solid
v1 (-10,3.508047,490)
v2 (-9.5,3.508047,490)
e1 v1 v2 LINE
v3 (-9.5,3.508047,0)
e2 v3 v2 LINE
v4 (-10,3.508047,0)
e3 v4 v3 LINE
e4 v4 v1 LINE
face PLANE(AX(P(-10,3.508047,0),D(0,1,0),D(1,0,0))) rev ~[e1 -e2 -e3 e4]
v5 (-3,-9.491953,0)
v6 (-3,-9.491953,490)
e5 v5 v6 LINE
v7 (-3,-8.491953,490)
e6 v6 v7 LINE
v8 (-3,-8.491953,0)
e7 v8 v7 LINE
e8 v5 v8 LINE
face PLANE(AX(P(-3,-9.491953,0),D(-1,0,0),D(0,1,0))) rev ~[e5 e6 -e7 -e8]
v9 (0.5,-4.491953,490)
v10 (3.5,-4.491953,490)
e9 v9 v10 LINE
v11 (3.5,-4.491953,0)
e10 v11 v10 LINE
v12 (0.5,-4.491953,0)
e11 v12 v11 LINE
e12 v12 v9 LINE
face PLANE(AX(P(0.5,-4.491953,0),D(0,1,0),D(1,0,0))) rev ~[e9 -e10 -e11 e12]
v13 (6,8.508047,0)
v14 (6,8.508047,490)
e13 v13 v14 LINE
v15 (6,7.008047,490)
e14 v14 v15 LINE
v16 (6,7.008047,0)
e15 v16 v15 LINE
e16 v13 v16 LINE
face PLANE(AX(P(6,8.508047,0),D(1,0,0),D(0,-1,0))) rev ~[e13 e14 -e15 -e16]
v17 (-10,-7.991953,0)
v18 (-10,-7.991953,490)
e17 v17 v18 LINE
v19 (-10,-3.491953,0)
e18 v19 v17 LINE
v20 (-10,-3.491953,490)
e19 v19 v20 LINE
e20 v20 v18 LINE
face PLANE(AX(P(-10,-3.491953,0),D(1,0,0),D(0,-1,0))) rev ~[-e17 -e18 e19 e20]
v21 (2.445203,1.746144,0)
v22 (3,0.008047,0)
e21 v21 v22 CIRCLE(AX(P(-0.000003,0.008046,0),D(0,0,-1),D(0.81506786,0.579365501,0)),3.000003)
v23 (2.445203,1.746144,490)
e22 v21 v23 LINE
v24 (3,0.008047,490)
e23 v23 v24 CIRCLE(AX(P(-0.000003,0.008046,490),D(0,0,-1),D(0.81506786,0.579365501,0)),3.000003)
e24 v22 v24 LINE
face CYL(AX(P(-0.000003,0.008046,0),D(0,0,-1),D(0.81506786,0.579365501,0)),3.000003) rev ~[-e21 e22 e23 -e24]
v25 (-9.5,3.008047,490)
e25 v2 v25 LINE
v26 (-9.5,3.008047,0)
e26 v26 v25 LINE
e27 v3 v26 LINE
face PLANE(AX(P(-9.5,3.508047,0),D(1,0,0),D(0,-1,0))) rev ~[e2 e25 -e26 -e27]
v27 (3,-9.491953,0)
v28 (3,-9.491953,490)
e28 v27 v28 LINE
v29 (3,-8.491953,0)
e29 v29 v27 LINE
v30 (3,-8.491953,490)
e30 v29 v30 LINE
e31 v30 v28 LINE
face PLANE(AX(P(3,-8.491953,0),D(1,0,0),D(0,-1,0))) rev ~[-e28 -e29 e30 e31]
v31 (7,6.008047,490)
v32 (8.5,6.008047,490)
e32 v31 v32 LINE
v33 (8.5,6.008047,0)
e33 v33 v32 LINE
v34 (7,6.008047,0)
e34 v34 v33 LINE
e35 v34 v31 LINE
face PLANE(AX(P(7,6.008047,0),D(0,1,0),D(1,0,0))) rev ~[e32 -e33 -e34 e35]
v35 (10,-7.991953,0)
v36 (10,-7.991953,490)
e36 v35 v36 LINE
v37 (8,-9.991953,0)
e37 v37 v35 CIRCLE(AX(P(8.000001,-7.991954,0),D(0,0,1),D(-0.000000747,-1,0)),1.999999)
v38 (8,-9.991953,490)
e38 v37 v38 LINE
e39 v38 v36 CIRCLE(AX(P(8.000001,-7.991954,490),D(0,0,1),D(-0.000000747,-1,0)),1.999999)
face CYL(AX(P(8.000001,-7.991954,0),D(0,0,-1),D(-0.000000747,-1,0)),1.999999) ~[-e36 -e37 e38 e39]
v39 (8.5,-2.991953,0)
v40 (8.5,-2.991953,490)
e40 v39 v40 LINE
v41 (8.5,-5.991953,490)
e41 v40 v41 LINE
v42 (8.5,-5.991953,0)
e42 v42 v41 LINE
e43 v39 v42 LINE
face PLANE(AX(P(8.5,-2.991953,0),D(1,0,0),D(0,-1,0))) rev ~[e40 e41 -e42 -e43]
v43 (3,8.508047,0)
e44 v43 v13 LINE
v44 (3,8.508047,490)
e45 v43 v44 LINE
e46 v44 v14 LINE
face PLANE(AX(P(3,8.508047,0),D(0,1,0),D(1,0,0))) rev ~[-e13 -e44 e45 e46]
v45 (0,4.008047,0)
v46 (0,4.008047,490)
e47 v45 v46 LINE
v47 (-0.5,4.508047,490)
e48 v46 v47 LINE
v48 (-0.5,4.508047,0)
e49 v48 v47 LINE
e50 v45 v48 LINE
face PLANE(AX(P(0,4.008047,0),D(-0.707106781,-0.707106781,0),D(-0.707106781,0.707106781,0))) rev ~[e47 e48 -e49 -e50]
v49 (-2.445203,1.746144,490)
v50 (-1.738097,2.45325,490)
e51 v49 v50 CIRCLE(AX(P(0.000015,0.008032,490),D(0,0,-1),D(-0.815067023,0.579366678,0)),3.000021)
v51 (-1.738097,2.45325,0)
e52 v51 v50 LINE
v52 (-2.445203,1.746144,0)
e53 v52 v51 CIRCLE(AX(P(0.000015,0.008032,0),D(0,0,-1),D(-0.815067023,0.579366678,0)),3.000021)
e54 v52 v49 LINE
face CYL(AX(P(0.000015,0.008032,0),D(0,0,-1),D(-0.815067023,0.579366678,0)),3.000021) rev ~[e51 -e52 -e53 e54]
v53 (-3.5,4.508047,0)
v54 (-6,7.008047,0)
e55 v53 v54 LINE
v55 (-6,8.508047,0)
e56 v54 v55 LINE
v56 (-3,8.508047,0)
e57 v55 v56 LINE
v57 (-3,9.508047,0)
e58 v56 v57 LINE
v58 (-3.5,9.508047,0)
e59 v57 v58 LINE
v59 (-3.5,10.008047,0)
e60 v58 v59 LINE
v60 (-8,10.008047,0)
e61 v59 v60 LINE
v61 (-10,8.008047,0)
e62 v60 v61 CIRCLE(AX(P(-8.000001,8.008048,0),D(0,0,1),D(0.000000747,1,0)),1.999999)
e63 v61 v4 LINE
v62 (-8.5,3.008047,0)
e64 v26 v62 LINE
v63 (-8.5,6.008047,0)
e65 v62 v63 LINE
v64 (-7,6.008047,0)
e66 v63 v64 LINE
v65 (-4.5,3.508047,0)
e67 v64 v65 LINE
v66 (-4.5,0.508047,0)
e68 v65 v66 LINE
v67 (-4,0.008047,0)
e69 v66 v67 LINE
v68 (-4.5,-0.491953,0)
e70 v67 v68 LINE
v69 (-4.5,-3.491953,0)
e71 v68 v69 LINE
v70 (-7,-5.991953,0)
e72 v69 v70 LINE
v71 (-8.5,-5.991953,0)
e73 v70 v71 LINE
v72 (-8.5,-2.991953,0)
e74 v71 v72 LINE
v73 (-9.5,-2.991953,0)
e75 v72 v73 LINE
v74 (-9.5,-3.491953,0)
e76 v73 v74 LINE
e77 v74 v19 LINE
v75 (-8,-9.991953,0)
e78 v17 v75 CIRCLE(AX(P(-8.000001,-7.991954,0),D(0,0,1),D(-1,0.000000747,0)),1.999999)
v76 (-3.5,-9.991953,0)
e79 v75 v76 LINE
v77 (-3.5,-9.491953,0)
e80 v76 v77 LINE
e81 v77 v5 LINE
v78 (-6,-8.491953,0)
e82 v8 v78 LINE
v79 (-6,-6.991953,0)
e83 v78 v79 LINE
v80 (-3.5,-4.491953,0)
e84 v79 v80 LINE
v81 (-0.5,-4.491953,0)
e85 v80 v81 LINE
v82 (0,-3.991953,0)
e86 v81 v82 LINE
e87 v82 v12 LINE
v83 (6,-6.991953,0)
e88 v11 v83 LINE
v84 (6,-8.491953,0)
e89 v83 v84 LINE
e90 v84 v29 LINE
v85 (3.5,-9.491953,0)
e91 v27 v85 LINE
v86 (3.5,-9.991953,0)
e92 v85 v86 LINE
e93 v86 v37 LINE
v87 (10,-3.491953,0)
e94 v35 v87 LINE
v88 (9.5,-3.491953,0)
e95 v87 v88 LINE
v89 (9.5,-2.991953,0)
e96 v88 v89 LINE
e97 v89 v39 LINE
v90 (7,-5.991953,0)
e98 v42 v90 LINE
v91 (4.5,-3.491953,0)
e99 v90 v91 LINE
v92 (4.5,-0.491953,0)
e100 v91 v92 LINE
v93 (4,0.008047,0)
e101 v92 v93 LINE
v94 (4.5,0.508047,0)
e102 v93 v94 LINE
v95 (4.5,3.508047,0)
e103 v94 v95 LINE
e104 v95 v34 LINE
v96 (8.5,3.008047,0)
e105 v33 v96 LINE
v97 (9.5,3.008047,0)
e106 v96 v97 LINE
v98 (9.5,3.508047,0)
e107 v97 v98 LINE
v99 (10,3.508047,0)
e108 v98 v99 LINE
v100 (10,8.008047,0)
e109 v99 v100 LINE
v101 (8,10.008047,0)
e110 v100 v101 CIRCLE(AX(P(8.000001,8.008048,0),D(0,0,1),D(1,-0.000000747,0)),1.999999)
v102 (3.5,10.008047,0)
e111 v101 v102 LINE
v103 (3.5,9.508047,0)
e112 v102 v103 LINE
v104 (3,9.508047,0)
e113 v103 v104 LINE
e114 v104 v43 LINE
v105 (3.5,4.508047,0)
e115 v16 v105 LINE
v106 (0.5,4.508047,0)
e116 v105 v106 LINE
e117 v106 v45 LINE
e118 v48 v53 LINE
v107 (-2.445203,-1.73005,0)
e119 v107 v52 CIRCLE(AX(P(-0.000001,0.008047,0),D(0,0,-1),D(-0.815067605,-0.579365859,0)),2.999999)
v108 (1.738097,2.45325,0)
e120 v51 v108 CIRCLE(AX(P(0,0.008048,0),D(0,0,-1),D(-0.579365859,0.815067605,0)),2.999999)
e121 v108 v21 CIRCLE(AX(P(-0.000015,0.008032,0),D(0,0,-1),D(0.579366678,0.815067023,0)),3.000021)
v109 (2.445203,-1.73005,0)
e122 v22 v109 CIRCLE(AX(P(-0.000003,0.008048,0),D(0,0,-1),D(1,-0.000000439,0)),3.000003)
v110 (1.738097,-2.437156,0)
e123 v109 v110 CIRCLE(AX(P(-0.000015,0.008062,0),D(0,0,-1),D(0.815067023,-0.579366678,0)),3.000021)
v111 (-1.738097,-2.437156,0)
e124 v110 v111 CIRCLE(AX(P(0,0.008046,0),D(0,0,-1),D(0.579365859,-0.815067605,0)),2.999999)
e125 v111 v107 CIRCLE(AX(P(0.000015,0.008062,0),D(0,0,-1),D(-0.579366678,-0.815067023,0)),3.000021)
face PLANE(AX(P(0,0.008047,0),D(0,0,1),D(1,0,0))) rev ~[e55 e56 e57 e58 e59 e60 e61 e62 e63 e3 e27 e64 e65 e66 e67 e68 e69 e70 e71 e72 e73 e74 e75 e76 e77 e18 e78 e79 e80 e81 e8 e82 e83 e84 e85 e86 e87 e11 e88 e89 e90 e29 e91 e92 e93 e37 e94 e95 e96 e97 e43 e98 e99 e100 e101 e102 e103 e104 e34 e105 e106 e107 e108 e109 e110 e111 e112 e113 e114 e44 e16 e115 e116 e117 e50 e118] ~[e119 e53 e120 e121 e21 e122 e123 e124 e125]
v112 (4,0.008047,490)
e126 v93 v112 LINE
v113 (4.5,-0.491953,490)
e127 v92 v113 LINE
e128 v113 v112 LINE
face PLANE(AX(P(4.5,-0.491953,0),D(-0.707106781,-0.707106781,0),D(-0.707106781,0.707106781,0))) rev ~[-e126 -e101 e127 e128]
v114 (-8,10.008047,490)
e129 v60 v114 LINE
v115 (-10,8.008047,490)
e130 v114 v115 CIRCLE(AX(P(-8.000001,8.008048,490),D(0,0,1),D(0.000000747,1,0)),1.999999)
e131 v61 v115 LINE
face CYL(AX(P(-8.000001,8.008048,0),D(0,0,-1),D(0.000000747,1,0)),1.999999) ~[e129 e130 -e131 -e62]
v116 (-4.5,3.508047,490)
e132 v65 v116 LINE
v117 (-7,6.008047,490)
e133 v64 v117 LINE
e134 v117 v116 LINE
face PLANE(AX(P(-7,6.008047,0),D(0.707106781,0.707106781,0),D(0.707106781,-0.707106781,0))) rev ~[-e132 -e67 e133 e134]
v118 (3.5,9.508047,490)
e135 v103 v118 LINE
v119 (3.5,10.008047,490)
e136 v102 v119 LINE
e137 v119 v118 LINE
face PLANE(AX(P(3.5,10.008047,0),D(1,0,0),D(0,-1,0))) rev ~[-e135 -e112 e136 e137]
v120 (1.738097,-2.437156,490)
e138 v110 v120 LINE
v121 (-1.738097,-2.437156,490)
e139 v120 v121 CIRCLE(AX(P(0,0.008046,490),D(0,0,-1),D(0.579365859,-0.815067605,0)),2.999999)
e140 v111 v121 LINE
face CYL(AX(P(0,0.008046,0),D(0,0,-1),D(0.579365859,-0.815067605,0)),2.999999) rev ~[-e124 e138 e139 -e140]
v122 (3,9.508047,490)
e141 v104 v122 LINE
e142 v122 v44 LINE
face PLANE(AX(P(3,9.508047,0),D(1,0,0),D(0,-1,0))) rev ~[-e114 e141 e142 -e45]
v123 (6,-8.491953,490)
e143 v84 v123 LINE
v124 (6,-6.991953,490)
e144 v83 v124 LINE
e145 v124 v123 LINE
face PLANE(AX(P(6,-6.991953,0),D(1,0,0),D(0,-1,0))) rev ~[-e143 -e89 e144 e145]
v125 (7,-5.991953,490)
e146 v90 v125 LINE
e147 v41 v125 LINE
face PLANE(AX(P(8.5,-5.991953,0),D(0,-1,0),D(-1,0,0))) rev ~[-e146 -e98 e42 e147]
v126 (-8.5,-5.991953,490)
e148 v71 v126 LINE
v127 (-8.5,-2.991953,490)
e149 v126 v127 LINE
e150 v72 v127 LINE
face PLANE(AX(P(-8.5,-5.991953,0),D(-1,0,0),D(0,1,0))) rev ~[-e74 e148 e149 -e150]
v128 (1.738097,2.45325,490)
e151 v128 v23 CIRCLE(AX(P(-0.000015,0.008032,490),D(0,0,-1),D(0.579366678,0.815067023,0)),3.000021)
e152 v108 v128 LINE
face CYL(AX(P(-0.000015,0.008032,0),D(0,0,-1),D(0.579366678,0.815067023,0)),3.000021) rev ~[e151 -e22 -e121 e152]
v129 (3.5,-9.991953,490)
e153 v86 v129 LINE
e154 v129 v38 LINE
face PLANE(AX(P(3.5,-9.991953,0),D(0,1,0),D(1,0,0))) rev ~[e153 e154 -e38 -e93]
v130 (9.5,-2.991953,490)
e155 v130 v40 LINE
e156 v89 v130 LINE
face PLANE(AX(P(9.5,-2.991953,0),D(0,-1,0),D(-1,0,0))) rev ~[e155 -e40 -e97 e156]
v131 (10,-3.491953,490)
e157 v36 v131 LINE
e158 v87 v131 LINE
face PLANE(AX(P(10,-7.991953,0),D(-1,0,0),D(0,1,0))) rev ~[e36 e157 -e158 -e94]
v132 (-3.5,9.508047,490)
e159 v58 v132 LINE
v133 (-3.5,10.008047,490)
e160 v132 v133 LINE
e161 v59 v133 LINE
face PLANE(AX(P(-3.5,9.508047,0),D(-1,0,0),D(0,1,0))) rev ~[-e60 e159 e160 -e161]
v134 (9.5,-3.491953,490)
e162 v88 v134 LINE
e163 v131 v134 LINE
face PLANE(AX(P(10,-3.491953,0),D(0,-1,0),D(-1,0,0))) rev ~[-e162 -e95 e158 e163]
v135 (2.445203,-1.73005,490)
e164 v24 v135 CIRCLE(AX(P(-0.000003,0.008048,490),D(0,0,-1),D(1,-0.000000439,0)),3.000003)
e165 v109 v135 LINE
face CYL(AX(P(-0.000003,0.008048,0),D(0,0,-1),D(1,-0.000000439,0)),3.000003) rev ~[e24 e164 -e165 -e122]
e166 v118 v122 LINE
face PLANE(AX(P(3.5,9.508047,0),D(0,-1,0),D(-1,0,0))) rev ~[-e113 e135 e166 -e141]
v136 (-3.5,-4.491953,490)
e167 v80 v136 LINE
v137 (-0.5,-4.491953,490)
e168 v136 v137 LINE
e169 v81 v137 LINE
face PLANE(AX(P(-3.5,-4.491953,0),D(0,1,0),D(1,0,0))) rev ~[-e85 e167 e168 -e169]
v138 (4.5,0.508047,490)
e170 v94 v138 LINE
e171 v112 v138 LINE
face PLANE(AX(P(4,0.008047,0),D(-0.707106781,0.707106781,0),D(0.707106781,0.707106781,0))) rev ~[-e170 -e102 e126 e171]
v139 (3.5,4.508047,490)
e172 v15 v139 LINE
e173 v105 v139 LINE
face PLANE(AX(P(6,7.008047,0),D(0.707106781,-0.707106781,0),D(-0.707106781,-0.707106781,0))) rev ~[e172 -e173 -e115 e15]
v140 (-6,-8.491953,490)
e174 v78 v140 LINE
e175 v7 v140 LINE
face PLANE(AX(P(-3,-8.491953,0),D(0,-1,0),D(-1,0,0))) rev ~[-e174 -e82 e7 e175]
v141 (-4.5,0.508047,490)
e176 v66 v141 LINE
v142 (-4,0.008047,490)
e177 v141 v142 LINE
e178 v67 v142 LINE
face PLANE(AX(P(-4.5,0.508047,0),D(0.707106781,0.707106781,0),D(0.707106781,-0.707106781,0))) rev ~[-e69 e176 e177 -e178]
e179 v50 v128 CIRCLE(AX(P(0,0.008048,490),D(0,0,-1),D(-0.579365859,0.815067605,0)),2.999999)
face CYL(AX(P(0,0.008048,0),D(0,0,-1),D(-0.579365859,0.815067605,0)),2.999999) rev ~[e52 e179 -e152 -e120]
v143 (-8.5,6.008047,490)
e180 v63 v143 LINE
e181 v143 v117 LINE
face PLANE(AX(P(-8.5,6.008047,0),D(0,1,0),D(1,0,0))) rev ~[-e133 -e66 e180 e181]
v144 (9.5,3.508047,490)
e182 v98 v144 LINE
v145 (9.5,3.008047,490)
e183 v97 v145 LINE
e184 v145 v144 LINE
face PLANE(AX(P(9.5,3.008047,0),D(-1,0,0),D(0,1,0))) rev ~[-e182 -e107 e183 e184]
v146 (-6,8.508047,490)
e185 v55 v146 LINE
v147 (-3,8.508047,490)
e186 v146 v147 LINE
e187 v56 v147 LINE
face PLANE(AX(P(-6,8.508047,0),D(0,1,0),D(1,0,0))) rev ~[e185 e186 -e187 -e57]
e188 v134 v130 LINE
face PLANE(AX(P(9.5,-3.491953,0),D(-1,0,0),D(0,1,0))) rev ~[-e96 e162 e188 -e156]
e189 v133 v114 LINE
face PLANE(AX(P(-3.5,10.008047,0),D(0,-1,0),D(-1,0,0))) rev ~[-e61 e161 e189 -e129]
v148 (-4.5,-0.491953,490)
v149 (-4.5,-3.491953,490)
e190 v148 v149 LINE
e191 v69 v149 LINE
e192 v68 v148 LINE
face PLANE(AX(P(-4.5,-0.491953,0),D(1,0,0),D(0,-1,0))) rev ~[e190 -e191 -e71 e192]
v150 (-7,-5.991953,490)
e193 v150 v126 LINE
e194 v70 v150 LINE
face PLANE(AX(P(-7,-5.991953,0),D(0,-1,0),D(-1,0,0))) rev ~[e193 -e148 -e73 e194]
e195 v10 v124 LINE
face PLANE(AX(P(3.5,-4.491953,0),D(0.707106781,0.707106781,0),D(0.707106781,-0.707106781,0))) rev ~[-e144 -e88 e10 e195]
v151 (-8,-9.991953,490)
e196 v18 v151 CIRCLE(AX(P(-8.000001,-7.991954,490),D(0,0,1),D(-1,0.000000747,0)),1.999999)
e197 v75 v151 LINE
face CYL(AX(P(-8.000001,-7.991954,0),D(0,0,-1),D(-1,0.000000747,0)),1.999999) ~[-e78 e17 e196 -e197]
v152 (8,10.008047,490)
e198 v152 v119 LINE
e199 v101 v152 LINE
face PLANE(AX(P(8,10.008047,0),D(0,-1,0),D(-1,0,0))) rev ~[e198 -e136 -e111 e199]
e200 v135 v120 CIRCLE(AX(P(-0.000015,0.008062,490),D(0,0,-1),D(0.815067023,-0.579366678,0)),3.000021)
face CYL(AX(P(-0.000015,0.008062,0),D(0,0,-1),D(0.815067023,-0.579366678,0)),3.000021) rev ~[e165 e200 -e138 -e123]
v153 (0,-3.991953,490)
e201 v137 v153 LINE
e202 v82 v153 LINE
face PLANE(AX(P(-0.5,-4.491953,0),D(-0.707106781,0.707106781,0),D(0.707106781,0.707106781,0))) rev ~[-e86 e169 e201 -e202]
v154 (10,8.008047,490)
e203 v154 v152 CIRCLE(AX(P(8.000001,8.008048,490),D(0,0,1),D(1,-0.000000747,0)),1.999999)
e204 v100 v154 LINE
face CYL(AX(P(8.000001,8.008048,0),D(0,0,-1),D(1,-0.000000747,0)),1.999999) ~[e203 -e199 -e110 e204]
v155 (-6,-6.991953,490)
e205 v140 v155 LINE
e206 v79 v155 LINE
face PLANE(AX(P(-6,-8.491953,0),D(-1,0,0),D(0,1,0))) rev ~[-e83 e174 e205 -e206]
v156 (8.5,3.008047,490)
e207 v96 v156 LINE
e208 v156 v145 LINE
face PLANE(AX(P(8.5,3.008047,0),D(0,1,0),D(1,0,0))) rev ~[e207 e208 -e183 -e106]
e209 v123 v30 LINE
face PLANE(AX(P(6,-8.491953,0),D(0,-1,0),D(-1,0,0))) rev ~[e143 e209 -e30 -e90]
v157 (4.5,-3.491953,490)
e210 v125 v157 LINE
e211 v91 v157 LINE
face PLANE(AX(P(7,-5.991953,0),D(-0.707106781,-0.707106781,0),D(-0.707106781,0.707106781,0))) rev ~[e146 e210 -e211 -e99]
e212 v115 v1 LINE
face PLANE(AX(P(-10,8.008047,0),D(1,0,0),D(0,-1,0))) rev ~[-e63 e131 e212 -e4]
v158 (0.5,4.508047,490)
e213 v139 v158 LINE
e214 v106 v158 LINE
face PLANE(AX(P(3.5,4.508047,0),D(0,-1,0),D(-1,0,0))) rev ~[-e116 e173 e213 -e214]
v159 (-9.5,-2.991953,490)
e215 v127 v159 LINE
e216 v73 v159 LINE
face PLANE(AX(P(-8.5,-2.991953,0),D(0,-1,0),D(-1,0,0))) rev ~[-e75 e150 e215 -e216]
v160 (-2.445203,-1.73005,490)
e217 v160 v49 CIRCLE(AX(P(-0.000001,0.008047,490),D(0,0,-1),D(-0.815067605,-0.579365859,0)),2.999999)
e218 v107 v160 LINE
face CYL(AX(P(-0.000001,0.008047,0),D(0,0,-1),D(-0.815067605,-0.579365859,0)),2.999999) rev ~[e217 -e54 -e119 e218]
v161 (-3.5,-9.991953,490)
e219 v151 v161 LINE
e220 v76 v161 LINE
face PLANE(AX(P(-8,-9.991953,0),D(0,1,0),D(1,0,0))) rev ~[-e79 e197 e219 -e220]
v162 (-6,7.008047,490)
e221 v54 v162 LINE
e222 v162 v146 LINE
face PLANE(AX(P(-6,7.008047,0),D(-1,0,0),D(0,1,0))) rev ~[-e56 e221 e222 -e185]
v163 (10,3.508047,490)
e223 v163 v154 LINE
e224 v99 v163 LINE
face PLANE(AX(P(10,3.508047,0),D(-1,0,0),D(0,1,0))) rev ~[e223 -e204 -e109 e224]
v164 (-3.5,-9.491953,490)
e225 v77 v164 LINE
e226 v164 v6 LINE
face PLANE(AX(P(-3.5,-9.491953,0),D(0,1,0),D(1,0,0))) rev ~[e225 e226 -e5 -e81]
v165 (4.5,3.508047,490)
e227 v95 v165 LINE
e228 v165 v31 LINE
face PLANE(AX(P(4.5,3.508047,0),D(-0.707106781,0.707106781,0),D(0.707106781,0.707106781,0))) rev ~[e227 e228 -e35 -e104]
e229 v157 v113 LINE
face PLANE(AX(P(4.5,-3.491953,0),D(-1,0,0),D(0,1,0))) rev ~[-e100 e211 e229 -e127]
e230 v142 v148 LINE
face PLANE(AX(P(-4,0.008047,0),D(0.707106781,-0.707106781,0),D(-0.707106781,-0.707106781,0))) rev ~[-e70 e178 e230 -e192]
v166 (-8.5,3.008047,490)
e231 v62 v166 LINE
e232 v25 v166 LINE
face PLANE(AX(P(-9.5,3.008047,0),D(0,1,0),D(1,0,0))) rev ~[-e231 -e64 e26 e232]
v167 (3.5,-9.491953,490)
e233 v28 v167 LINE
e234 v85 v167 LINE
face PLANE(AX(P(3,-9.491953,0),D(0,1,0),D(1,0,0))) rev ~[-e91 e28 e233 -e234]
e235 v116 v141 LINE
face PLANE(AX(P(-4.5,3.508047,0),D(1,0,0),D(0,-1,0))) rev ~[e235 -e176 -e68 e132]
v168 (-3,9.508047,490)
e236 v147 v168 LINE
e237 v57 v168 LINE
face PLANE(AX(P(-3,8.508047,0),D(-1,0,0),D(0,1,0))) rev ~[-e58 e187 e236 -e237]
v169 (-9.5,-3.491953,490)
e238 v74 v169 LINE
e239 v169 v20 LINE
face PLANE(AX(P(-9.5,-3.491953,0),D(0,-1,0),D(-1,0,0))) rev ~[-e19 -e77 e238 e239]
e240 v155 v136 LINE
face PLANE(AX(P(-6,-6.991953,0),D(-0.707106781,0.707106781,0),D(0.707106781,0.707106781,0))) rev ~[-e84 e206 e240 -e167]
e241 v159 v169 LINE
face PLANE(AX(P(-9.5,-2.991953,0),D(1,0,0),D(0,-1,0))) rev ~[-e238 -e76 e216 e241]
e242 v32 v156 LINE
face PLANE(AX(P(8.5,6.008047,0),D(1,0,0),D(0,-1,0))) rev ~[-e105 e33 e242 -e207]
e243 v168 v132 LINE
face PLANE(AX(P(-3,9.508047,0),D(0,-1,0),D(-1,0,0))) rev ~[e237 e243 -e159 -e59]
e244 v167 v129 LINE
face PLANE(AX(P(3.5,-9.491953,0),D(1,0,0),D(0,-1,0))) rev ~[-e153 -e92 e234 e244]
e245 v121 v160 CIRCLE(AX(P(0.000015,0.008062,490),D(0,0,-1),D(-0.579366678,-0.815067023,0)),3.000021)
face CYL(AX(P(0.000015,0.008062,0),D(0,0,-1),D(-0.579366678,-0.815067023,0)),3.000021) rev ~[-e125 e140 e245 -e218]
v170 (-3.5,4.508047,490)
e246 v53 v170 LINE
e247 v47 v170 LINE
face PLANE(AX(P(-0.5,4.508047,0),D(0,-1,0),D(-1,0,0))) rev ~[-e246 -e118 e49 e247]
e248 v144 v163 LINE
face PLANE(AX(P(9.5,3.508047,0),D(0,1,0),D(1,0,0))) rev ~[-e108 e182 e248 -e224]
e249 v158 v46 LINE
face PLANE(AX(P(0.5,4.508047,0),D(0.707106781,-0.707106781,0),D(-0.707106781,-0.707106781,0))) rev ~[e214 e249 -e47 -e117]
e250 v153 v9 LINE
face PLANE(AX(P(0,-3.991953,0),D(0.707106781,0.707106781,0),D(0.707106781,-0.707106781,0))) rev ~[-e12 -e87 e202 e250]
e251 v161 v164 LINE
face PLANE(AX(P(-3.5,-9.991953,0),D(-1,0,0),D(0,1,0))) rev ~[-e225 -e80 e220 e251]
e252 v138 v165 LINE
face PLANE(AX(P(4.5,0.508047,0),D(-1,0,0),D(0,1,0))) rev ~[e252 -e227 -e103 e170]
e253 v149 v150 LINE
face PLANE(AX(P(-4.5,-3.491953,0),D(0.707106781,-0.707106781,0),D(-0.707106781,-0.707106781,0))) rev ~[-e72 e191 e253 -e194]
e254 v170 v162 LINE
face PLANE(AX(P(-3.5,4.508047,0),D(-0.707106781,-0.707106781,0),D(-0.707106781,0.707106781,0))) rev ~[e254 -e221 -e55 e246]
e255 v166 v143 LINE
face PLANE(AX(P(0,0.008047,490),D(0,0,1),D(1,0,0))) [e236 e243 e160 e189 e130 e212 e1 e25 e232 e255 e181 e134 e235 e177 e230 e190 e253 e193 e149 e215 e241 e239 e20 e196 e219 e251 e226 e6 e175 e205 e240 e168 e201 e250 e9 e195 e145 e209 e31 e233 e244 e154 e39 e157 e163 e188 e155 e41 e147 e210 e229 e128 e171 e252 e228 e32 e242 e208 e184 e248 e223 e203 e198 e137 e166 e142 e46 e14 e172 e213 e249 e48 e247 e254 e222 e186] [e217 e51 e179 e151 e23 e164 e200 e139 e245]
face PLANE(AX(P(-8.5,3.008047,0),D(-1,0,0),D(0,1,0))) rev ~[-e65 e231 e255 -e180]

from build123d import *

# Parameters (mm, degrees)
F1_DEPTH = 490


with BuildPart() as f1:
    # F0 (on Top) → F1 (new body)
    with BuildSketch(Plane.XY):
        with BuildLine():
            ThreePointArc((-10, -7.991953), (-9.414214, -9.406167), (-8, -9.991953))
            Line((-8, -9.991953), (-3.5, -9.991953))
            Line((-3.5, -9.991953), (-3.5, -9.491953))
            Line((-3.5, -9.491953), (-3, -9.491953))
            Line((-3, -9.491953), (-3, -8.491953))
            Line((-3, -8.491953), (-6, -8.491953))
            Line((-6, -8.491953), (-6, -6.991953))
            Line((-6, -6.991953), (-3.5, -4.491953))
            Line((-3.5, -4.491953), (-0.5, -4.491953))
            Line((-0.5, -4.491953), (0, -3.991953))
            Line((0, -3.991953), (0.5, -4.491953))
            Line((0.5, -4.491953), (3.5, -4.491953))
            Line((3.5, -4.491953), (6, -6.991953))
            Line((6, -6.991953), (6, -8.491953))
            Line((6, -8.491953), (3, -8.491953))
            Line((3, -8.491953), (3, -9.491953))
            Line((3, -9.491953), (3.5, -9.491953))
            Line((3.5, -9.491953), (3.5, -9.991953))
            Line((3.5, -9.991953), (8, -9.991953))
            ThreePointArc((8, -9.991953), (9.414214, -9.406167), (10, -7.991953))
            Line((10, -7.991953), (10, -3.491953))
            Line((10, -3.491953), (9.5, -3.491953))
            Line((9.5, -3.491953), (9.5, -2.991953))
            Line((9.5, -2.991953), (8.5, -2.991953))
            Line((8.5, -2.991953), (8.5, -5.991953))
            Line((8.5, -5.991953), (7, -5.991953))
            Line((7, -5.991953), (4.5, -3.491953))
            Line((4.5, -3.491953), (4.5, -0.491953))
            Line((4.5, -0.491953), (4, 0.008047))
            Line((4, 0.008047), (4.5, 0.508047))
            Line((4.5, 0.508047), (4.5, 3.508047))
            Line((4.5, 3.508047), (7, 6.008047))
            Line((7, 6.008047), (8.5, 6.008047))
            Line((8.5, 6.008047), (8.5, 3.008047))
            Line((8.5, 3.008047), (9.5, 3.008047))
            Line((9.5, 3.008047), (9.5, 3.508047))
            Line((9.5, 3.508047), (10, 3.508047))
            Line((10, 3.508047), (10, 8.008047))
            ThreePointArc((10, 8.008047), (9.414214, 9.422261), (8, 10.008047))
            Line((8, 10.008047), (3.5, 10.008047))
            Line((3.5, 10.008047), (3.5, 9.508047))
            Line((3.5, 9.508047), (3, 9.508047))
            Line((3, 9.508047), (3, 8.508047))
            Line((3, 8.508047), (6, 8.508047))
            Line((6, 8.508047), (6, 7.008047))
            Line((6, 7.008047), (3.5, 4.508047))
            Line((3.5, 4.508047), (0.5, 4.508047))
            Line((0.5, 4.508047), (0, 4.008047))
            Line((0, 4.008047), (-0.5, 4.508047))
            Line((-0.5, 4.508047), (-3.5, 4.508047))
            Line((-3.5, 4.508047), (-6, 7.008047))
            Line((-6, 7.008047), (-6, 8.508047))
            Line((-6, 8.508047), (-3, 8.508047))
            Line((-3, 8.508047), (-3, 9.508047))
            Line((-3, 9.508047), (-3.5, 9.508047))
            Line((-3.5, 9.508047), (-3.5, 10.008047))
            Line((-3.5, 10.008047), (-8, 10.008047))
            ThreePointArc((-8, 10.008047), (-9.414214, 9.422261), (-10, 8.008047))
            Line((-10, 8.008047), (-10, 3.508047))
            Line((-10, 3.508047), (-9.5, 3.508047))
            Line((-9.5, 3.508047), (-9.5, 3.008047))
            Line((-9.5, 3.008047), (-8.5, 3.008047))
            Line((-8.5, 3.008047), (-8.5, 6.008047))
            Line((-8.5, 6.008047), (-7, 6.008047))
            Line((-7, 6.008047), (-4.5, 3.508047))
            Line((-4.5, 3.508047), (-4.5, 0.508047))
            Line((-4.5, 0.508047), (-4, 0.008047))
            Line((-4, 0.008047), (-4.5, -0.491953))
            Line((-4.5, -0.491953), (-4.5, -3.491953))
            Line((-4.5, -3.491953), (-7, -5.991953))
            Line((-7, -5.991953), (-8.5, -5.991953))
            Line((-8.5, -5.991953), (-8.5, -2.991953))
            Line((-8.5, -2.991953), (-9.5, -2.991953))
            Line((-9.5, -2.991953), (-9.5, -3.491953))
            Line((-9.5, -3.491953), (-10, -3.491953))
            Line((-10, -3.491953), (-10, -7.991953))
        make_face()
        with BuildLine():
            ThreePointArc((2.445203, 1.746144), (2.857937, 0.920294), (3, 0.008047))
            ThreePointArc((3, 0.008047), (2.857937, -0.9042), (2.445203, -1.73005))
            ThreePointArc((2.445203, -1.73005), (2.12132, -2.113273), (1.738097, -2.437156))
            ThreePointArc((1.738097, -2.437156), (0, -2.991953), (-1.738097, -2.437156))
            ThreePointArc((-1.738097, -2.437156), (-2.12132, -2.113273), (-2.445203, -1.73005))
            ThreePointArc((-2.445203, -1.73005), (-3, 0.008047), (-2.445203, 1.746144))
            ThreePointArc((-2.445203, 1.746144), (-2.12132, 2.129367), (-1.738097, 2.45325))
            ThreePointArc((-1.738097, 2.45325), (0, 3.008047), (1.738097, 2.45325))
            ThreePointArc((1.738097, 2.45325), (2.12132, 2.129367), (2.445203, 1.746144))
        make_face(mode=Mode.SUBTRACT)
    extrude(amount=F1_DEPTH)


solid = f1.part
